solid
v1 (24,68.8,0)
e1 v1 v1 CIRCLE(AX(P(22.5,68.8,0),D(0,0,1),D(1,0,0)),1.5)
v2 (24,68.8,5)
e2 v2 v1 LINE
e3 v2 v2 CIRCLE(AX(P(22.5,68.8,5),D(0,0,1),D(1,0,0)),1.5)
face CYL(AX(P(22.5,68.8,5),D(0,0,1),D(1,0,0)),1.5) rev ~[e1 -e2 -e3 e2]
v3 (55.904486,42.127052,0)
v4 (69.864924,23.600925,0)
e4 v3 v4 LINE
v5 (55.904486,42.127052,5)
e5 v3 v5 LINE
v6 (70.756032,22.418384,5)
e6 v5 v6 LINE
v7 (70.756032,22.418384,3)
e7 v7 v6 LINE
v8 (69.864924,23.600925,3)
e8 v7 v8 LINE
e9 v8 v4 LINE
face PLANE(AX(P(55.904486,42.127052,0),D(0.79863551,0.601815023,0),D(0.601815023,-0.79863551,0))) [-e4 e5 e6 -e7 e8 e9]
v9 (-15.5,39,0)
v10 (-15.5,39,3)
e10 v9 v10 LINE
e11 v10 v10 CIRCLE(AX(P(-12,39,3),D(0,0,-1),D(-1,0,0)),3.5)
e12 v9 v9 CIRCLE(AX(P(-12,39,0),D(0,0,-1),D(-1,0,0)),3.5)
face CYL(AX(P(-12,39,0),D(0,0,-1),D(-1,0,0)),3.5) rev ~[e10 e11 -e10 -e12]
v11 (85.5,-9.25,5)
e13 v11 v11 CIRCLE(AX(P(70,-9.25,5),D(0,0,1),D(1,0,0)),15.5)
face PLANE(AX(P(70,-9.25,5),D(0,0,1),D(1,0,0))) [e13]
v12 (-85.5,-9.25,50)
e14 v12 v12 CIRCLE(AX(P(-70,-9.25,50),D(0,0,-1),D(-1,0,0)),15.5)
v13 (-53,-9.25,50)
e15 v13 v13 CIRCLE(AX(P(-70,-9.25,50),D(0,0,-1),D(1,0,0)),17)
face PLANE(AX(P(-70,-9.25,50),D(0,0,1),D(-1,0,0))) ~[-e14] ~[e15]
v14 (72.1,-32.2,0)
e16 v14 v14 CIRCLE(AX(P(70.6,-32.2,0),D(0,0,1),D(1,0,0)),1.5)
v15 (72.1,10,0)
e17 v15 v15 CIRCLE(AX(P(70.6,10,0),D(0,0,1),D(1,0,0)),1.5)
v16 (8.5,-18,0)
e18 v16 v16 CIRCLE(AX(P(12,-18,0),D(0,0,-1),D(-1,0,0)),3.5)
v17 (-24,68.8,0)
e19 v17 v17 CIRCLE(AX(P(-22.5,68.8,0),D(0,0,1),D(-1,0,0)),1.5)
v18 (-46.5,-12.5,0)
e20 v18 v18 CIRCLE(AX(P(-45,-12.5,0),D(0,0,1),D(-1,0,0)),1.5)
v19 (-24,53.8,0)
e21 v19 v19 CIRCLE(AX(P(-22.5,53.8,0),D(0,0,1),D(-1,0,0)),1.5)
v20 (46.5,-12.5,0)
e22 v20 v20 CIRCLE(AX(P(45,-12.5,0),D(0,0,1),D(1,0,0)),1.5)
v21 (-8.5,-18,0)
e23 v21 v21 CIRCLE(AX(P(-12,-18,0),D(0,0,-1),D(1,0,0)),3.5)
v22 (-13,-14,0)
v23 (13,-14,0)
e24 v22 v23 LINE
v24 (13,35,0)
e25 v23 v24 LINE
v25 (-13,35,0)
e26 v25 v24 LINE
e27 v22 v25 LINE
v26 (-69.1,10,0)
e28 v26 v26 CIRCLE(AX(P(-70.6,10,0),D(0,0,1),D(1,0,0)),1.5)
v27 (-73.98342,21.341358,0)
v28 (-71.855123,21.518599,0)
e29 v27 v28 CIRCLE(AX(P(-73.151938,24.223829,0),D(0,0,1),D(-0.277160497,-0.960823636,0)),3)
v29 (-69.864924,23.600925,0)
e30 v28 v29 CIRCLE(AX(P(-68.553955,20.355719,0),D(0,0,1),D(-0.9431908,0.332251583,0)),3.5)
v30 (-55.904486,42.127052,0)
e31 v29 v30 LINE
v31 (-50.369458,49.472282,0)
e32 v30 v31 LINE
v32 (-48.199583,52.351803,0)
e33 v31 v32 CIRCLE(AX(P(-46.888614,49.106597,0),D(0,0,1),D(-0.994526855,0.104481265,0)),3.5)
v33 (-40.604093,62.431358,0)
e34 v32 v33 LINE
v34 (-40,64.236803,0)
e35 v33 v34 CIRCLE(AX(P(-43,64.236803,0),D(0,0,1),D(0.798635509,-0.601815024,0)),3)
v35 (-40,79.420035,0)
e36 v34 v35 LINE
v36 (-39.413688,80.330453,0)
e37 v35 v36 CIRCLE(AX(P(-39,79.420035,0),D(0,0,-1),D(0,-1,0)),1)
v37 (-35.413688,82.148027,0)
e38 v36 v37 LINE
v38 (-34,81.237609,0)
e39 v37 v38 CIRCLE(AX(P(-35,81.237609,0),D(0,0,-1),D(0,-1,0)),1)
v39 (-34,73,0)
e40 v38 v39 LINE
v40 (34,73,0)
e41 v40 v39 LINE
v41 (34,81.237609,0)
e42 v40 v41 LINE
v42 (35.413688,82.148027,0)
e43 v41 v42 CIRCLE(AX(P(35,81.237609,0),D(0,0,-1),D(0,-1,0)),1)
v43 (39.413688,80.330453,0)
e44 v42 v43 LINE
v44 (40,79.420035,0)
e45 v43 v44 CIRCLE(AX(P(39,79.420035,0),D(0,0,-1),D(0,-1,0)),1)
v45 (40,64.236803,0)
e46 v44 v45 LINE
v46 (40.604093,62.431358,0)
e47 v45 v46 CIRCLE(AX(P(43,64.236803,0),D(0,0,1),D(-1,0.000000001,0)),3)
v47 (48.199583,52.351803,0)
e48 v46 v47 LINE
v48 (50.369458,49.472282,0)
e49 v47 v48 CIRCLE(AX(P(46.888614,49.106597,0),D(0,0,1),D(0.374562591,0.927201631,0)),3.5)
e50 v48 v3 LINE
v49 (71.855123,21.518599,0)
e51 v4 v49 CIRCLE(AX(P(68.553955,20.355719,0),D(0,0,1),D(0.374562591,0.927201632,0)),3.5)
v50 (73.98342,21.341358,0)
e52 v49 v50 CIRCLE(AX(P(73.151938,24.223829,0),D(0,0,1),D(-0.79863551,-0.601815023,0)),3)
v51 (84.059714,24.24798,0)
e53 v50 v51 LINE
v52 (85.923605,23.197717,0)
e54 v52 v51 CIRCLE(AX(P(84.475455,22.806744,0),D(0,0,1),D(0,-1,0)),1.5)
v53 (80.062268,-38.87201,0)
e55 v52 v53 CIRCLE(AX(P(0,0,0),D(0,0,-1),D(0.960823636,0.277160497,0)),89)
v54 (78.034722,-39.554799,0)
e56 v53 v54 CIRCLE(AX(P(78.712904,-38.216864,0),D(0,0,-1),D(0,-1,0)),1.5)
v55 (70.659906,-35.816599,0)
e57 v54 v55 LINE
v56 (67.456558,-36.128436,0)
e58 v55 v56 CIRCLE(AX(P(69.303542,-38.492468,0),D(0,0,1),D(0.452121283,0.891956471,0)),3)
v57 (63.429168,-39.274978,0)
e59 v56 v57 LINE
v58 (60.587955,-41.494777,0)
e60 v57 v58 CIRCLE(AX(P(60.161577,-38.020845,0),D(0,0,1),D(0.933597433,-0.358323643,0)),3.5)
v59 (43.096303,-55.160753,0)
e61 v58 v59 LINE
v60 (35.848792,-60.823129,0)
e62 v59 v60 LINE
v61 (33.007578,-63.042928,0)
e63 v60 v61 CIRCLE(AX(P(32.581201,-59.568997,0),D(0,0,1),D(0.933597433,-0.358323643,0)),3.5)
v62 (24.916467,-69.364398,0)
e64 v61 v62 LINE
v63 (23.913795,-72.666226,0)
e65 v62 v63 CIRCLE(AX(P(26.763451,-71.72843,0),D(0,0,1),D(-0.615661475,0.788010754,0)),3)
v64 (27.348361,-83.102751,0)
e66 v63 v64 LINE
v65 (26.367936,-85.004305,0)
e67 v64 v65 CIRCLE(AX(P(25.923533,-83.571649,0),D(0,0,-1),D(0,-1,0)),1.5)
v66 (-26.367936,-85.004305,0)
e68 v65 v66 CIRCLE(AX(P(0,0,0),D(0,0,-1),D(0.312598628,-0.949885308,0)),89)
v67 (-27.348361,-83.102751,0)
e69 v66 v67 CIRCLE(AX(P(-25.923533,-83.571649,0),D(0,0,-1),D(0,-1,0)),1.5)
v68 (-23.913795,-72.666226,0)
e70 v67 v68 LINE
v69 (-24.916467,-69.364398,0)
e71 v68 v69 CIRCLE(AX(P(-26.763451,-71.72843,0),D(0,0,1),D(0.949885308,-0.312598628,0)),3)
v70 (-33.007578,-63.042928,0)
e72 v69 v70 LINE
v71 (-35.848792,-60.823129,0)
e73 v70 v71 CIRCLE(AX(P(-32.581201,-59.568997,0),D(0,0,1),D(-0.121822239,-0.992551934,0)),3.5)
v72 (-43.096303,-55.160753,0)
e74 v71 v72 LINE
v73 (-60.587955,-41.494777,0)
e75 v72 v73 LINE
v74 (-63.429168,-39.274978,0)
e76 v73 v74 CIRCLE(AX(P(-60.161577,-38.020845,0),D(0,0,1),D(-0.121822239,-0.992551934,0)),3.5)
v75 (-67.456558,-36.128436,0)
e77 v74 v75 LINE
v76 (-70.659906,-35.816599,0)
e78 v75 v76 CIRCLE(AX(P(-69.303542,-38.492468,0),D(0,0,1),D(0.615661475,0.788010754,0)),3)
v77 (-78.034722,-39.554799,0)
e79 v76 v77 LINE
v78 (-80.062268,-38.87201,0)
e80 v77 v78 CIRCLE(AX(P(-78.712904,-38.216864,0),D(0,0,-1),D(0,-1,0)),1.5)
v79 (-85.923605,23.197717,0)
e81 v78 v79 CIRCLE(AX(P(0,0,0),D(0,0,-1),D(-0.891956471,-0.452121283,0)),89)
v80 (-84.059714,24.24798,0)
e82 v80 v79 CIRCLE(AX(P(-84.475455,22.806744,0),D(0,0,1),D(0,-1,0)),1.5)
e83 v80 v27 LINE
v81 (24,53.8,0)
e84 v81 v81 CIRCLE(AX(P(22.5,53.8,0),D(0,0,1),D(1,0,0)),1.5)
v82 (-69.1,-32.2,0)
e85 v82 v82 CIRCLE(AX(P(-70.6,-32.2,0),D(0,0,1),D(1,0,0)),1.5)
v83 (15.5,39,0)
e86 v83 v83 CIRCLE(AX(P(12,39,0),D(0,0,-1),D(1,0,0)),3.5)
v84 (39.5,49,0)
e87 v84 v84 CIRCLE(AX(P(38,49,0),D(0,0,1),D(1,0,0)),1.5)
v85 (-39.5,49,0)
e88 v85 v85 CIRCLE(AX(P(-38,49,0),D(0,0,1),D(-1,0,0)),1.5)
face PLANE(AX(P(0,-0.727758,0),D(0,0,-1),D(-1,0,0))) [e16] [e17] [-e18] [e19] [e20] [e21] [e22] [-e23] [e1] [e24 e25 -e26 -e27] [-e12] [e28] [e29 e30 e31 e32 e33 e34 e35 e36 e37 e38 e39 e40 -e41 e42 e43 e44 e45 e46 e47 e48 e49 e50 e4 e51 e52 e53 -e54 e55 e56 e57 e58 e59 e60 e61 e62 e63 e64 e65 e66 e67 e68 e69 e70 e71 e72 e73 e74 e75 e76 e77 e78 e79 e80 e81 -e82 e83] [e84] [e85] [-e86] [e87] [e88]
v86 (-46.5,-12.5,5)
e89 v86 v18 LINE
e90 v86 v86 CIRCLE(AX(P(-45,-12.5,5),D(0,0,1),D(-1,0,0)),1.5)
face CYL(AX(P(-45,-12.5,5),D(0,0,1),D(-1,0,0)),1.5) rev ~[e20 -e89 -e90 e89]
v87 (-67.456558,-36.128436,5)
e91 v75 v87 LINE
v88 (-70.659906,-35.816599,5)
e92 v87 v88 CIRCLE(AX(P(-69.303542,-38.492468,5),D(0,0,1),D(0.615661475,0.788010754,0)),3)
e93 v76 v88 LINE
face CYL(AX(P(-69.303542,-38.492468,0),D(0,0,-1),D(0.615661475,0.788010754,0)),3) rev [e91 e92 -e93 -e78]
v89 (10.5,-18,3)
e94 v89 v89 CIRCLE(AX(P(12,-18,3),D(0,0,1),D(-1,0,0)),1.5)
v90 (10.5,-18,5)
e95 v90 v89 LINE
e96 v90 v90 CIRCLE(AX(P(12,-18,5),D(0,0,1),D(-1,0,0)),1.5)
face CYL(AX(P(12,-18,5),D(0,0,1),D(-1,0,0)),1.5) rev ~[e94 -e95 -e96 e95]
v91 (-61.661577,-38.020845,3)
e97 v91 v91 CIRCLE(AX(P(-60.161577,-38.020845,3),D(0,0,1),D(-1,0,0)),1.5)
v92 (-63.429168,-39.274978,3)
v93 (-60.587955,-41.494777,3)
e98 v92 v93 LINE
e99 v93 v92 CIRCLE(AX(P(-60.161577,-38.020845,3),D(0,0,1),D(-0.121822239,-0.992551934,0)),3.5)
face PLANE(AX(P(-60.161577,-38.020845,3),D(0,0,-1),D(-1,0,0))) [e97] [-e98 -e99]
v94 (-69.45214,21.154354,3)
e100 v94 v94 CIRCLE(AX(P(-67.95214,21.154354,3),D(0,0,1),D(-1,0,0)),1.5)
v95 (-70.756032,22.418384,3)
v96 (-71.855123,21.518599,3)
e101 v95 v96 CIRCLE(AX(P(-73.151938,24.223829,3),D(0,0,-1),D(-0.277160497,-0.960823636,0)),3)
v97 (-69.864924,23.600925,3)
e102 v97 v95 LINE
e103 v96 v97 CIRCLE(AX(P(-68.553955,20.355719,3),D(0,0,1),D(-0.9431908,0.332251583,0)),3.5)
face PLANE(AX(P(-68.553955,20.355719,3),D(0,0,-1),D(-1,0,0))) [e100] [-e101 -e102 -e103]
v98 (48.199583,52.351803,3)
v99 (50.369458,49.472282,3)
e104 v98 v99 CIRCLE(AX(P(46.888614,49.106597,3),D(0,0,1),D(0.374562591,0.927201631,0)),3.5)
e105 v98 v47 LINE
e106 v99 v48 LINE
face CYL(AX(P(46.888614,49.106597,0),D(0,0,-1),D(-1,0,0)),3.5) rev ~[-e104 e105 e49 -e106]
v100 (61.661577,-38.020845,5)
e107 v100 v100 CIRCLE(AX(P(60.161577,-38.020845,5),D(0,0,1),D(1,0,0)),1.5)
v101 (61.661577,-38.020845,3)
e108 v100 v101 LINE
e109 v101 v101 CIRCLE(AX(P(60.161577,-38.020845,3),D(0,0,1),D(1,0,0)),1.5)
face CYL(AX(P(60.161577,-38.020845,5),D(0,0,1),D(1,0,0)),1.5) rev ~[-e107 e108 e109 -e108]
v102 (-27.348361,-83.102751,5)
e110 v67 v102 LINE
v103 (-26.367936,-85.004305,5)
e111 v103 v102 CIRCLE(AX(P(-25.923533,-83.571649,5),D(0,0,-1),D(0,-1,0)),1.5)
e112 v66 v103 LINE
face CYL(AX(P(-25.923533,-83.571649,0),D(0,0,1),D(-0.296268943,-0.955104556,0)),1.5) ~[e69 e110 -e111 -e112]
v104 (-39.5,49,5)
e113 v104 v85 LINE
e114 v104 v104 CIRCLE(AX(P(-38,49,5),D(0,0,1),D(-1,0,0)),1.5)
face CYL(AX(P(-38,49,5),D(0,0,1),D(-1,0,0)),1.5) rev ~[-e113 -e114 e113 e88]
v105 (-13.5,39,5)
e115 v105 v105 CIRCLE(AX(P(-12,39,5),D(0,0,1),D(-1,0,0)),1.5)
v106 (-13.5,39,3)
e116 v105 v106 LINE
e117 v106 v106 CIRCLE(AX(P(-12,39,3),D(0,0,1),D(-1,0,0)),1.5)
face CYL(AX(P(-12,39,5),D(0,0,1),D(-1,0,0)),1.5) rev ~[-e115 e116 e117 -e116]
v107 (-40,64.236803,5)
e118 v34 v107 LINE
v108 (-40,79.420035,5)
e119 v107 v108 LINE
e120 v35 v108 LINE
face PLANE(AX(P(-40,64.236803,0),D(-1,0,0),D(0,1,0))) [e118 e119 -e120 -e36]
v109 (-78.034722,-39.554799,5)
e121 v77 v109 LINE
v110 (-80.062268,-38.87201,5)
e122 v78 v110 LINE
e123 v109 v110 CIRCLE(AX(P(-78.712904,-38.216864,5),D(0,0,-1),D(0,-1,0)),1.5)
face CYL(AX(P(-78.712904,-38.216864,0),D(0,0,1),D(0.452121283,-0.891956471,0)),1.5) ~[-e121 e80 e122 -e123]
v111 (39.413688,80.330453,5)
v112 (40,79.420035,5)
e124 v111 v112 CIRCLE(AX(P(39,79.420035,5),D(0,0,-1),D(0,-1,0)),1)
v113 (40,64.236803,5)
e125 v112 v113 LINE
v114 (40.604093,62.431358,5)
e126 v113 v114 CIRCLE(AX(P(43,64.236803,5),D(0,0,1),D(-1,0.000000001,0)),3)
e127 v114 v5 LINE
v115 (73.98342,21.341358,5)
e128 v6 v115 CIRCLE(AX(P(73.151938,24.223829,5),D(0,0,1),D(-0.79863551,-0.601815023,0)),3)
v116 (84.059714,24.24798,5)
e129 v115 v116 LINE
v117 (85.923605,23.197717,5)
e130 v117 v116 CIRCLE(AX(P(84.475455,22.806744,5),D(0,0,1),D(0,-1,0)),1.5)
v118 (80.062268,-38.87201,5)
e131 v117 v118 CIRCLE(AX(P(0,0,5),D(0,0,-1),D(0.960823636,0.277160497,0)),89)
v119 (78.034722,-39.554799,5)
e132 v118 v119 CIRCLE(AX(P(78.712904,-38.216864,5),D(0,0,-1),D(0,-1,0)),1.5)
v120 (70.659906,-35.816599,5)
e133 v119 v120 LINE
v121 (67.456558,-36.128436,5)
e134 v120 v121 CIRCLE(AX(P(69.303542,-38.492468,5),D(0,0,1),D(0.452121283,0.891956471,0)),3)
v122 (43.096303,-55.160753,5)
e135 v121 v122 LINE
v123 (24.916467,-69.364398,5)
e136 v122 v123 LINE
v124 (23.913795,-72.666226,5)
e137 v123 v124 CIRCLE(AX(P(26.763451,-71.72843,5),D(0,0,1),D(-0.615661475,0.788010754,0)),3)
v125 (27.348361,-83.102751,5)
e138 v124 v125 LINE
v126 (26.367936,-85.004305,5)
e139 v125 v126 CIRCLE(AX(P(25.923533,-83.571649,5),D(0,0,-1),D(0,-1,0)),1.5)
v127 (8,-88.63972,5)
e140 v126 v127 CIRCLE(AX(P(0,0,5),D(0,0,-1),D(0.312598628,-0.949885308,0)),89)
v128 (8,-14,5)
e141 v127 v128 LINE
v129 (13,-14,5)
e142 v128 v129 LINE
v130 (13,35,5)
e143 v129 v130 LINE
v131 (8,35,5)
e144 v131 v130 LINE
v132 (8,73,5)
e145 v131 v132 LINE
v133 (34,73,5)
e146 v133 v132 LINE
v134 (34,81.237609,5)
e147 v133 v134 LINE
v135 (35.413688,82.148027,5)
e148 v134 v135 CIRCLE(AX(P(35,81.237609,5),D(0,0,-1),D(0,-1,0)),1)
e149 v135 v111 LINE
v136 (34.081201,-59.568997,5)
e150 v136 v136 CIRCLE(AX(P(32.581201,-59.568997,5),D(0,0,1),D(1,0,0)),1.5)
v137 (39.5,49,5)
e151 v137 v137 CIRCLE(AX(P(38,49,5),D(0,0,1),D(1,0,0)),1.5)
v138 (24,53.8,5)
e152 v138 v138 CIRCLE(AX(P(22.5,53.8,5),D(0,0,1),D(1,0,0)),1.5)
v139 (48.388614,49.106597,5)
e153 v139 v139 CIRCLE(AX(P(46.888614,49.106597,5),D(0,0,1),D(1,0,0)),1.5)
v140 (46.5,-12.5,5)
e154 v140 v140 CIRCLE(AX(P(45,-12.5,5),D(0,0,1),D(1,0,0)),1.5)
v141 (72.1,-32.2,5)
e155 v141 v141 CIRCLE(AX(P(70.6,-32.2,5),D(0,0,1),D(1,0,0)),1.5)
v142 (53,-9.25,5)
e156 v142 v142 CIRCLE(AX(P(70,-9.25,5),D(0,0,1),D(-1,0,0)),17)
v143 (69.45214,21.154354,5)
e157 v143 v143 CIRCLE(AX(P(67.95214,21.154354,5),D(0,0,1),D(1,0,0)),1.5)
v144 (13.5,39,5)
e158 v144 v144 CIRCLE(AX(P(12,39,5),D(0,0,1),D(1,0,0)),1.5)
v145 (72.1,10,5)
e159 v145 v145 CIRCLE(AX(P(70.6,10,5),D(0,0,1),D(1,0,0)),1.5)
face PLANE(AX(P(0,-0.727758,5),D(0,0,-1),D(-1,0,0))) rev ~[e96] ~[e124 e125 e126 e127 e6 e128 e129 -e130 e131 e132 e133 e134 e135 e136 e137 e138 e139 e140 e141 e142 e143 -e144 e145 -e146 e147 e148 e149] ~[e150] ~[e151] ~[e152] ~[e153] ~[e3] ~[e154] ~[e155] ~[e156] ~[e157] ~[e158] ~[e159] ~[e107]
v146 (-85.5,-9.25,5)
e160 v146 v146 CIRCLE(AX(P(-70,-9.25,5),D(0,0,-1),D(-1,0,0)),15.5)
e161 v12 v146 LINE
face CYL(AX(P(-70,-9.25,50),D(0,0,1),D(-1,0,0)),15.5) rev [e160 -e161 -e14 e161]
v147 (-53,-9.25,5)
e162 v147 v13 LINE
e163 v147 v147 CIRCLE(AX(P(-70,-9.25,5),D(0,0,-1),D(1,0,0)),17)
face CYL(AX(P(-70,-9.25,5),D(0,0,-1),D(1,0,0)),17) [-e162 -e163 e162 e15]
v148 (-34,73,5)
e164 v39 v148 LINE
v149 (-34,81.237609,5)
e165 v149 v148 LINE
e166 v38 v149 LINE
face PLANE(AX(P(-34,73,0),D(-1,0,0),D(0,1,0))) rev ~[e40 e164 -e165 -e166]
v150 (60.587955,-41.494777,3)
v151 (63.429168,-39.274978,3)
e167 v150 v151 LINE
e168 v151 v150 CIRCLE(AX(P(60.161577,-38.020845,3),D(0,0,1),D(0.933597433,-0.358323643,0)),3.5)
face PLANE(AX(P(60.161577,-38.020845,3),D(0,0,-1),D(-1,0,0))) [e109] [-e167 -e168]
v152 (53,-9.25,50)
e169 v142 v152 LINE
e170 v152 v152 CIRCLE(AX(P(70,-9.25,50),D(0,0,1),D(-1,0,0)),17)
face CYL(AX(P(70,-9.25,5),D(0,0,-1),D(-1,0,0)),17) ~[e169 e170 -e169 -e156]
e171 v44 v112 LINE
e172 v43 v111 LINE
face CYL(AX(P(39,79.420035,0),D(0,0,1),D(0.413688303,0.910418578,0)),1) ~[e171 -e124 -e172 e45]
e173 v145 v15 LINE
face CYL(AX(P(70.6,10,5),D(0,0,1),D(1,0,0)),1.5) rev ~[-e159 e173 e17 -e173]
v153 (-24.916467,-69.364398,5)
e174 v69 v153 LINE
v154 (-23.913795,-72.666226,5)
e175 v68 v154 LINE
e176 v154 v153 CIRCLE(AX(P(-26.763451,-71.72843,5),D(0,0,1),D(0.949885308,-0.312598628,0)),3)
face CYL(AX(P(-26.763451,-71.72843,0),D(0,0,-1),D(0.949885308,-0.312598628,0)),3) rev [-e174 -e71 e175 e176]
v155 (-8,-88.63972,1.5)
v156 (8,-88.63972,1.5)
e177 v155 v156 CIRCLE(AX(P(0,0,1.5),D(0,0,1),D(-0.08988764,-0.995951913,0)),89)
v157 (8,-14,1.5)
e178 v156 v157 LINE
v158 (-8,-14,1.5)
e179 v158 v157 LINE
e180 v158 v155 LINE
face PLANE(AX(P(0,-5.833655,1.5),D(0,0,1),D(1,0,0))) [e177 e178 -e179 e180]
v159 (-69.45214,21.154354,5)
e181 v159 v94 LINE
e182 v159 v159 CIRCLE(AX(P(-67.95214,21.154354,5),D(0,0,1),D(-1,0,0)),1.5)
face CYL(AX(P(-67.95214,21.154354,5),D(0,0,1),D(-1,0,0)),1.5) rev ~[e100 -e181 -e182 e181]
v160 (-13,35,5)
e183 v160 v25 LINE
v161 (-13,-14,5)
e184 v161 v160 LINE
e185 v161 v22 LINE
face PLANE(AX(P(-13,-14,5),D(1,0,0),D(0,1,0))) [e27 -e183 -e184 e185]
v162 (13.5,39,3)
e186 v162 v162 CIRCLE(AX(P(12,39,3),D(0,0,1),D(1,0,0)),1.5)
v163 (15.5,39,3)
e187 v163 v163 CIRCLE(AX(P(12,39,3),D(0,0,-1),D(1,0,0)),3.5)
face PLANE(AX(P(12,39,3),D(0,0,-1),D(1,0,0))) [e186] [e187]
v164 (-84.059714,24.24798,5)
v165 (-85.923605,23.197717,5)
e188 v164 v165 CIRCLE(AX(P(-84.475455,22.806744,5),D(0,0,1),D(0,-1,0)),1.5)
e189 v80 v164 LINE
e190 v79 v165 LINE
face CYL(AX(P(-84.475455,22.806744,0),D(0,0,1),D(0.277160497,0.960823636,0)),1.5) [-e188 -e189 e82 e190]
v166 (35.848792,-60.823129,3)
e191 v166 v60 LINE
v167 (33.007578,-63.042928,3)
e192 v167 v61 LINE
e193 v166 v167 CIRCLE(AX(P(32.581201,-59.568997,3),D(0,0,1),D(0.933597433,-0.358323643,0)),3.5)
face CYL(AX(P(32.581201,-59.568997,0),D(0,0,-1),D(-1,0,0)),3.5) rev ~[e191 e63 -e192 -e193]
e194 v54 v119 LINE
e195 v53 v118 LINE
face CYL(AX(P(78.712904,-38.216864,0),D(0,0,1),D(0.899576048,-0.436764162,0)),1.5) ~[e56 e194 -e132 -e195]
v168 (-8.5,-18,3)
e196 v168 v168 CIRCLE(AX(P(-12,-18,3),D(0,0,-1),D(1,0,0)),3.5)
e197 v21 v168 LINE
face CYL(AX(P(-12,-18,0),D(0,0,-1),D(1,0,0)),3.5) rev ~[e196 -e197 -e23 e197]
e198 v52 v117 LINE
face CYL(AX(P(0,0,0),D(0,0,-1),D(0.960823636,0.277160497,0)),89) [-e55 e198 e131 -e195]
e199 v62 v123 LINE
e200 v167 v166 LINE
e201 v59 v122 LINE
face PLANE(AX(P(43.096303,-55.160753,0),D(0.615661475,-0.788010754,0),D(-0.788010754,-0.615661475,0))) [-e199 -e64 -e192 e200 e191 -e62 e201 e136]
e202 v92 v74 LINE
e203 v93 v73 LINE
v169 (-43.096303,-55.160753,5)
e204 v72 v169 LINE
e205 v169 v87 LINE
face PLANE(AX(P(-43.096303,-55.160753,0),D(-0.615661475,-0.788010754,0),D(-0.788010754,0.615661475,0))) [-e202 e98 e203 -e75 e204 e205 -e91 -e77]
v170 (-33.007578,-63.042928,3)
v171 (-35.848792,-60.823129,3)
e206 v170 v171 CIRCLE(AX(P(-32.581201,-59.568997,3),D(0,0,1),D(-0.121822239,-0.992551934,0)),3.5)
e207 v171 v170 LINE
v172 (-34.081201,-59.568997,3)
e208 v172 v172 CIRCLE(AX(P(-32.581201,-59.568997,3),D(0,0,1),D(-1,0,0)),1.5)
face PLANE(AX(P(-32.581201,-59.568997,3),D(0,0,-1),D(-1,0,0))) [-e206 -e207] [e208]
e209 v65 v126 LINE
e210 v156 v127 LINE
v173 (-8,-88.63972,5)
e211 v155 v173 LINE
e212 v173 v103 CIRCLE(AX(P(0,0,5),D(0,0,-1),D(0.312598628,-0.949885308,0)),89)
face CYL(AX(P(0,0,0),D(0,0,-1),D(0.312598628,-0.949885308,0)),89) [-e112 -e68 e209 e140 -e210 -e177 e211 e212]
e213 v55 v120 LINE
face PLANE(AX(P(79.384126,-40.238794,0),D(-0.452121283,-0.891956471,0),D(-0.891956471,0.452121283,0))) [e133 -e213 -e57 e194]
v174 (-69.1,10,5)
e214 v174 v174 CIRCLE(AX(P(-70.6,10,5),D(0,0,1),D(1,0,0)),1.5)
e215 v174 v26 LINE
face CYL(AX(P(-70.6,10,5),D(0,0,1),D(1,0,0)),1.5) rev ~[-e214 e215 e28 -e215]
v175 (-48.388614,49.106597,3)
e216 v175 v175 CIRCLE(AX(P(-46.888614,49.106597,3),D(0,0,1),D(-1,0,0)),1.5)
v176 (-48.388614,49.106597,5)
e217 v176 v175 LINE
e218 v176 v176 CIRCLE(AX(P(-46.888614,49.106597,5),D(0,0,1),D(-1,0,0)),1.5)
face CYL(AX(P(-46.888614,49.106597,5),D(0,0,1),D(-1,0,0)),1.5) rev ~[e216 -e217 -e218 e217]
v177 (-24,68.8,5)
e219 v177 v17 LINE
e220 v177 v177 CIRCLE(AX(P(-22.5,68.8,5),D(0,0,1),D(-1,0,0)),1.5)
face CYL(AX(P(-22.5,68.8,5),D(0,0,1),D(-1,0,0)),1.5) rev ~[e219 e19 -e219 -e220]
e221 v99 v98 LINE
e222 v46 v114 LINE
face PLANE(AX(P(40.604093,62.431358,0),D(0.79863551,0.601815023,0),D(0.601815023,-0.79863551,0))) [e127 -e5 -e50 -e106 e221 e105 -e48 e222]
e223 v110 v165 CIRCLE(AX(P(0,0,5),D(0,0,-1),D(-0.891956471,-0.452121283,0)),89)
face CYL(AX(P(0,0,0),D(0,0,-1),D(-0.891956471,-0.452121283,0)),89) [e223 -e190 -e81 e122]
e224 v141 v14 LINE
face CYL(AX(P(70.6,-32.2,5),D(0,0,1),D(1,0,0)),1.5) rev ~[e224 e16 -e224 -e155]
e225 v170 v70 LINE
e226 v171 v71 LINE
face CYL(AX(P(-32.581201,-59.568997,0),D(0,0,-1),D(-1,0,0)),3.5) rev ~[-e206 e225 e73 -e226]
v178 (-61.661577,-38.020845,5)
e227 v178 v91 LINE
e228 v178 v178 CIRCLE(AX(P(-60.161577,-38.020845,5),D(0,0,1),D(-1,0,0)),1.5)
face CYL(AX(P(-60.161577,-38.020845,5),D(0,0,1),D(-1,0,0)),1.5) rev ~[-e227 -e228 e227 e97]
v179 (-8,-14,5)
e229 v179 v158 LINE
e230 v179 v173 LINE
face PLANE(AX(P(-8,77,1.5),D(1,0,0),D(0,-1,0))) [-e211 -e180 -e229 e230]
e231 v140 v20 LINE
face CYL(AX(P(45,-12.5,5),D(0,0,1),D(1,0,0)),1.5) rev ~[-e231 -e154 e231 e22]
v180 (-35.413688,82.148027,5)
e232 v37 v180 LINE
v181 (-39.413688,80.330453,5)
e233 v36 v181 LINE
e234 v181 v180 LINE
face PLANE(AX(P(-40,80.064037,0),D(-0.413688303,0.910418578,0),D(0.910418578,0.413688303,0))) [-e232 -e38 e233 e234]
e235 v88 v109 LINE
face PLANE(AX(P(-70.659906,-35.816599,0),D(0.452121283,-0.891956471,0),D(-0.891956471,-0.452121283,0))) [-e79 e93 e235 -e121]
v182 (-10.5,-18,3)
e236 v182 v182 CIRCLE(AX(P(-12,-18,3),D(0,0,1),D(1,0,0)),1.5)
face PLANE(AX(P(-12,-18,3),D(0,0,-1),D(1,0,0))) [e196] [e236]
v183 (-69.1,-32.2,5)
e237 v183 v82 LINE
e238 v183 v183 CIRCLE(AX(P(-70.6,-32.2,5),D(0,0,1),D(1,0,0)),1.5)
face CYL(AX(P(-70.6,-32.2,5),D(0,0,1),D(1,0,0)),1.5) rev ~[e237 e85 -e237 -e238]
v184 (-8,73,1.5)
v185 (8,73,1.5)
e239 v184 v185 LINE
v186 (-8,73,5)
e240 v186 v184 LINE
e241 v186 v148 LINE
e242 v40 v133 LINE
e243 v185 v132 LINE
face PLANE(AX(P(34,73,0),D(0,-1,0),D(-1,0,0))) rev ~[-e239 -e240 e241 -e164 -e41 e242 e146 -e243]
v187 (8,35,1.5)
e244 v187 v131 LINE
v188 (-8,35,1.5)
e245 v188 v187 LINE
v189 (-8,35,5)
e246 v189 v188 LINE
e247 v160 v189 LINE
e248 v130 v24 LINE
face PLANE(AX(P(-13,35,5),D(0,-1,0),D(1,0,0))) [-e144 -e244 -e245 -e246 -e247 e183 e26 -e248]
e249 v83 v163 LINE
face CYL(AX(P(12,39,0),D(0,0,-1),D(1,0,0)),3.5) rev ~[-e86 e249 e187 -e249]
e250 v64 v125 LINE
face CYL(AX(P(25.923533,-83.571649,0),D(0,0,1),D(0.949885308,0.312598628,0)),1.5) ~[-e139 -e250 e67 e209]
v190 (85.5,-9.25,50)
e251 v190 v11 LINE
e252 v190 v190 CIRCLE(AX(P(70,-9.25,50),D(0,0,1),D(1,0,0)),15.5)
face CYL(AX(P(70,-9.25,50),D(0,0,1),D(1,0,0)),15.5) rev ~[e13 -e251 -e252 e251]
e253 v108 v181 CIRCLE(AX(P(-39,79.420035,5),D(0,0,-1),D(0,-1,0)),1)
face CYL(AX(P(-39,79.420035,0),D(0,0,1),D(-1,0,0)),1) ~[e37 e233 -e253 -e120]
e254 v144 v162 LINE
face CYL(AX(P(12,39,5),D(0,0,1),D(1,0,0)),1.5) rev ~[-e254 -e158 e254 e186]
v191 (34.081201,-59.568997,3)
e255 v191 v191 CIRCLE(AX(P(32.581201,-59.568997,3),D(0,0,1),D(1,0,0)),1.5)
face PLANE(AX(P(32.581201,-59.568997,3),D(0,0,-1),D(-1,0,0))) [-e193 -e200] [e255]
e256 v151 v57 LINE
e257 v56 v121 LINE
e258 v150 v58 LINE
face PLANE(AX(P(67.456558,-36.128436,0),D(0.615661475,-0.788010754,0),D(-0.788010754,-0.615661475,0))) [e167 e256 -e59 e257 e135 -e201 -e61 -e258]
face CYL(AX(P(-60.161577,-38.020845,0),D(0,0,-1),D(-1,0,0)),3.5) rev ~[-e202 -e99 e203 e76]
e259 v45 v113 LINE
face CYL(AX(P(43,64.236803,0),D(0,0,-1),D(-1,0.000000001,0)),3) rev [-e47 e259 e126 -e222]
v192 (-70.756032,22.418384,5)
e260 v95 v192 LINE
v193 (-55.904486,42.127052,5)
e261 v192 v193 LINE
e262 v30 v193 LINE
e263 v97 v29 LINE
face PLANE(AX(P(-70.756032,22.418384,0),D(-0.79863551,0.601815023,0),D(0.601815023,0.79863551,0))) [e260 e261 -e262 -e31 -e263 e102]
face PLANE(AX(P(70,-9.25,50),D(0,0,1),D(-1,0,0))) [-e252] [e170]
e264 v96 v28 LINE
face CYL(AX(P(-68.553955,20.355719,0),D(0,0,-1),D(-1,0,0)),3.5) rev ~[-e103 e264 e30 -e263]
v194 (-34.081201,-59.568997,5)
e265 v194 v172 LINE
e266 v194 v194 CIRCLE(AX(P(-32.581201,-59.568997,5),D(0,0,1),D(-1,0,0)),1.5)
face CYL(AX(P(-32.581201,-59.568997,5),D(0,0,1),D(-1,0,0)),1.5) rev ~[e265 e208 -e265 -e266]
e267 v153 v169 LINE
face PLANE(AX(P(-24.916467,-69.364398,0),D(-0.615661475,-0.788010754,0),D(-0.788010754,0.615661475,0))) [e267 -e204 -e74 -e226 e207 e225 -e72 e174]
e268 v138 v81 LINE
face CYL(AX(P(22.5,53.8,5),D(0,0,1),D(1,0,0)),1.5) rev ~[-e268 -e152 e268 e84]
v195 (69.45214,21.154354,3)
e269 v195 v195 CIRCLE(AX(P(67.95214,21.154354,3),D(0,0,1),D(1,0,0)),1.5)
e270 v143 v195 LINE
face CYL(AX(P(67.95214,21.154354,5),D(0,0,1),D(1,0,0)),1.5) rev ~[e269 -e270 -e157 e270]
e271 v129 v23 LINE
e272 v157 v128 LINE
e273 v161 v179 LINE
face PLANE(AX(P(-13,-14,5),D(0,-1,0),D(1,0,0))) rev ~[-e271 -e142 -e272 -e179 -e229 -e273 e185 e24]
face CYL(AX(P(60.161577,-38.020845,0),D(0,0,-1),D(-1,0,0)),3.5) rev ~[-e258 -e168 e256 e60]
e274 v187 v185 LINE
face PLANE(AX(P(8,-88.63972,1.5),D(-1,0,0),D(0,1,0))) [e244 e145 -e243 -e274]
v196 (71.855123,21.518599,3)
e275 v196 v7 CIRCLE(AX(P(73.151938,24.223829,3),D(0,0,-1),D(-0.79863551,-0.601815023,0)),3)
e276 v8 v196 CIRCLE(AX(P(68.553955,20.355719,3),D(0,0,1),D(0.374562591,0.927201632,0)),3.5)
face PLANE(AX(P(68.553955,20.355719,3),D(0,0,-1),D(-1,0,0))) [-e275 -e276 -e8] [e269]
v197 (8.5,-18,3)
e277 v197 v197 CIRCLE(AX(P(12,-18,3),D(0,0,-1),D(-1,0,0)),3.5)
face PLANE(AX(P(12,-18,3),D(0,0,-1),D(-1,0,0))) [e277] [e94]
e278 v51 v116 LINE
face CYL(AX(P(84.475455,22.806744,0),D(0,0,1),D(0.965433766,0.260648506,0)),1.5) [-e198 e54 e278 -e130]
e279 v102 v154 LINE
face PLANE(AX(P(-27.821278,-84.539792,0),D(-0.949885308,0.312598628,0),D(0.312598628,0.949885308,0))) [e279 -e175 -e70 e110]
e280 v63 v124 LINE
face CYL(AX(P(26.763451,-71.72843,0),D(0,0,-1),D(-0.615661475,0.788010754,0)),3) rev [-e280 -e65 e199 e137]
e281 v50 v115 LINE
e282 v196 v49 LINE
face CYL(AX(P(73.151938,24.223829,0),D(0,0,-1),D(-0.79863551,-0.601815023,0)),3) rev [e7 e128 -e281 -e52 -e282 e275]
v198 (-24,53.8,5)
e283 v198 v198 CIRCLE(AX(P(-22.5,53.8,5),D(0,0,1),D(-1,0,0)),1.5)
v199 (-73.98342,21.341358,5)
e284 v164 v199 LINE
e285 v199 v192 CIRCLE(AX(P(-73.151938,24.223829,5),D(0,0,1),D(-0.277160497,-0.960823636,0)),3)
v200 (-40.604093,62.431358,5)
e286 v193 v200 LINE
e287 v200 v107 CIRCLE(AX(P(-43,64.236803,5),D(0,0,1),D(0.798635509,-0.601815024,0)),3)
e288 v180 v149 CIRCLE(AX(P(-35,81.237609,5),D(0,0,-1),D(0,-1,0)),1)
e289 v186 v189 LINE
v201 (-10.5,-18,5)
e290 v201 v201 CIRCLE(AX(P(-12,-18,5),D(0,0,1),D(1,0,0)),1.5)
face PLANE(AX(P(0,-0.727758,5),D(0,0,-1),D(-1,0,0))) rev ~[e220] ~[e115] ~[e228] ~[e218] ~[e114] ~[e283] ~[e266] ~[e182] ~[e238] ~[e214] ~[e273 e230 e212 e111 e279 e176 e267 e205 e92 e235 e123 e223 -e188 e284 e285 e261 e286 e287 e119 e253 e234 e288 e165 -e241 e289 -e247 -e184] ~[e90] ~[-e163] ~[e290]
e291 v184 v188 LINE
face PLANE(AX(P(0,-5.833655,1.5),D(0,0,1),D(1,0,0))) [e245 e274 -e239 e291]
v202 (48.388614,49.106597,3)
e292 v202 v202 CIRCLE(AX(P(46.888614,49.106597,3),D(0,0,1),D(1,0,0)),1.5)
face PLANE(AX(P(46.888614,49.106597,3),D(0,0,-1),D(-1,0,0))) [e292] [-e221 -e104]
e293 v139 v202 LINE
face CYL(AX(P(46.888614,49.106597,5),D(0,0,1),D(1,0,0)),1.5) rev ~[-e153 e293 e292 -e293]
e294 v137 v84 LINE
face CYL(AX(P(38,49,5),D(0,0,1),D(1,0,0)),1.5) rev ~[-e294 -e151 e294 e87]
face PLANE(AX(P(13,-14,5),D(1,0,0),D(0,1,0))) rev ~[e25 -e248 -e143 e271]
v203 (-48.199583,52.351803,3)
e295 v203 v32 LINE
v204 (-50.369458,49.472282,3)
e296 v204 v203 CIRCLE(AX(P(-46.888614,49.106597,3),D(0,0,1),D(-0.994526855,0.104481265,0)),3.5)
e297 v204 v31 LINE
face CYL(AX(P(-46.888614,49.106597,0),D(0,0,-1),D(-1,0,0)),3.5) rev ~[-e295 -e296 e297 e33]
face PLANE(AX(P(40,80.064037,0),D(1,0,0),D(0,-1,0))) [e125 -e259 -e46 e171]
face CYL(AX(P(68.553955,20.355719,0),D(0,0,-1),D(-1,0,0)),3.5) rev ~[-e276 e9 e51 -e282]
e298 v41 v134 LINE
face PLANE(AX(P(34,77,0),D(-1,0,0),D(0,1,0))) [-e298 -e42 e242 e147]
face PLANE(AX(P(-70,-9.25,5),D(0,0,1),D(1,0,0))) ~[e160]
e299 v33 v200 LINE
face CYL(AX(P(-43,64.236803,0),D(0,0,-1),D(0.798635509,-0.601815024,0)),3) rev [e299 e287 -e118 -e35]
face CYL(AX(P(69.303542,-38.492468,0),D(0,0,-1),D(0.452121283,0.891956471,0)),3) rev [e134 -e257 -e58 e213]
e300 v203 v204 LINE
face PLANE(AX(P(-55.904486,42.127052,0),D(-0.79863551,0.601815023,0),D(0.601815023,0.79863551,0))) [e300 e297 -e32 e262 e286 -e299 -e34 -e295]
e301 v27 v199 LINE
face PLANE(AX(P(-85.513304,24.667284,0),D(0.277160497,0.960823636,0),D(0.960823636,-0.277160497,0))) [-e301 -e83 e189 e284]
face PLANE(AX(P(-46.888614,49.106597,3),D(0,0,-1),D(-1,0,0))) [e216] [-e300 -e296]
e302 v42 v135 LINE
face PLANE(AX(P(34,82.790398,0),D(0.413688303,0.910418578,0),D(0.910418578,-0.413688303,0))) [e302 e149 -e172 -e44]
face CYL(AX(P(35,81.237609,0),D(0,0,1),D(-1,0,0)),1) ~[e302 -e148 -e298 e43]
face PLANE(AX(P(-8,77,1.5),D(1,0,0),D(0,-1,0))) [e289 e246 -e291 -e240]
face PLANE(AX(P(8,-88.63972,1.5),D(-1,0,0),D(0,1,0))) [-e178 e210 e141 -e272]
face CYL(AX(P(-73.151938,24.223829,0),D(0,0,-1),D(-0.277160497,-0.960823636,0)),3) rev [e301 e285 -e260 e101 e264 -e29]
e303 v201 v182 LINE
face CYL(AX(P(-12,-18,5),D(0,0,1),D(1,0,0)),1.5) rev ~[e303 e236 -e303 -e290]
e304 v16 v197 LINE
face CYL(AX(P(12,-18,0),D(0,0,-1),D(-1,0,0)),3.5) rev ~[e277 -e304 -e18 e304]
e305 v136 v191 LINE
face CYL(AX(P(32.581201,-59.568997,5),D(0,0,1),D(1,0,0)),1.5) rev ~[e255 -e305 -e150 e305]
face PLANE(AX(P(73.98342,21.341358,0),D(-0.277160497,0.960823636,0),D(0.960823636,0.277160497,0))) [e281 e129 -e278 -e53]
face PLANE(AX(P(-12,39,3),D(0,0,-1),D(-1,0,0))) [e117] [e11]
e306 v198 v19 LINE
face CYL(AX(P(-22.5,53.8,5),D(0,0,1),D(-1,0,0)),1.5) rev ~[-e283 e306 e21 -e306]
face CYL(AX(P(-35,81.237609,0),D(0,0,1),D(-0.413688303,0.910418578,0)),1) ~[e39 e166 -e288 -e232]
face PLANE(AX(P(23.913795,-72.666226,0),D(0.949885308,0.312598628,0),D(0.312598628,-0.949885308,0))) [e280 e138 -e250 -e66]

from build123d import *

# Parameters (mm, degrees)
EXTRUDE_2007_DEPTH      = 5
FILLET_3_R              = 1.5
FILLET_4_R              = 1.5
FILLET_5_R              = 1.5
FILLET_6_R              = 1.5
FILLET_8_R              = 1.5
FILLET_9_R              = 1.5
FILLET_10_R             = 1
SKETCH_3_R              = 17
EXTRUDE_3379_DEPTH      = 45
SKETCH_4_R              = 15.5
CUT_EXTRUDE_3486_DEPTH  = 45
SKETCH_5_R              = 1.5
CUT_EXTRUDE_4485_DEPTH  = 2
SKETCH_12_R             = 3.5
CUT_EXTRUDE_5429_DEPTH  = 3
CUT_EXTRUDE_START       = -3.5
CUT_EXTRUDE_6212_DEPTH  = 3.5
SKETCH_8_W              = 26
SKETCH_8_H              = 49
CUT_EXTRUDE_6714_DEPTH  = 5
SKETCH_9_R              = 1.5
CUT_EXTRUDE_7323_DEPTH  = 2
SKETCH_10_R             = 3.5
CUT_EXTRUDE_8111_DEPTH  = 3
SKETCH_11_R             = 1.5
CUT_EXTRUDE_8692_DEPTH  = 5
SKETCH_14_W             = 68
SKETCH_14_H             = 4
CUT_EXTRUDE_1_DEPTH     = 10
SKETCH_15_R             = 1.5
CUT_EXTRUDE_9738_DEPTH  = 134.667497919
SKETCH_16_R             = 1.5
CUT_EXTRUDE_10559_DEPTH = 10


with BuildPart() as part:
    # 草图1 → Extrude 2007 (new body)
    with BuildSketch(Plane.XY):
        with BuildLine():
            Line((40.60409347, 62.431357903), (55.904485703, 42.127051621))
            Line((55.904485703, 42.127051621), (70.756031924, 22.418384115))
            ThreePointArc((70.756031924, 22.418384115), (72.202279258, 21.378104776), (73.983419946, 21.341358278))
            Line((73.983419946, 21.341358278), (85.513303574, 24.667284243))
            ThreePointArc((85.513303574, 24.667284243), (88.605814226, -8.36717906), (79.384125876, -40.238794203))
            Line((79.384125876, -40.238794203), (70.659905832, -35.816599072))
            ThreePointArc((70.659905832, -35.816599072), (69.012874234, -35.506582977), (67.456557556, -36.128436223))
            Line((67.456557556, -36.128436223), (43.096303273, -55.160752752))
            Line((43.096303273, -55.160752752), (24.916466517, -69.364397902))
            ThreePointArc((24.916466517, -69.364397902), (23.892889166, -70.856722021), (23.91379502, -72.666226046))
            Line((23.91379502, -72.666226046), (27.821277866, -84.539792393))
            ThreePointArc((27.821277866, -84.539792393), (0, -89), (-27.821277866, -84.539792393))
            Line((-27.821277866, -84.539792393), (-23.91379502, -72.666226046))
            ThreePointArc((-23.91379502, -72.666226046), (-23.892889166, -70.856722021), (-24.916466517, -69.364397902))
            Line((-24.916466517, -69.364397902), (-43.096303273, -55.160752752))
            Line((-43.096303273, -55.160752752), (-67.456557556, -36.128436223))
            ThreePointArc((-67.456557556, -36.128436223), (-69.012874234, -35.506582977), (-70.659905832, -35.816599072))
            Line((-70.659905832, -35.816599072), (-79.384125876, -40.238794203))
            ThreePointArc((-79.384125876, -40.238794203), (-88.605814226, -8.36717906), (-85.513303574, 24.667284243))
            Line((-85.513303574, 24.667284243), (-73.983419946, 21.341358278))
            ThreePointArc((-73.983419946, 21.341358278), (-72.202279258, 21.378104776), (-70.756031924, 22.418384115))
            Line((-70.756031924, 22.418384115), (-55.904485703, 42.127051621))
            Line((-55.904485703, 42.127051621), (-40.60409347, 62.431357903))
            ThreePointArc((-40.60409347, 62.431357903), (-40.155029034, 63.284889003), (-40, 64.236802972))
            Line((-40, 64.236802972), (-40, 74))
            Line((-40, 74), (-40, 80.06403687))
            Line((-40, 80.06403687), (-34, 82.790397994))
            Line((-34, 82.790397994), (-34, 77))
            Line((-34, 77), (34, 77))
            Line((34, 77), (34, 82.790397994))
            Line((34, 82.790397994), (40, 80.06403687))
            Line((40, 80.06403687), (40, 74))
            Line((40, 74), (40, 64.236802972))
            ThreePointArc((40, 64.236802972), (40.155029034, 63.284889003), (40.60409347, 62.431357903))
        make_face()
    extrude(amount=EXTRUDE_2007_DEPTH)

    # 圆角3
    fillet_3_edges = [part.edges().sort_by_distance(p)[0] for p in [
        (79.384125876, -40.238794203, 2.5),
    ]]
    fillet(fillet_3_edges, radius=FILLET_3_R)

    # 圆角4
    fillet_4_edges = [part.edges().sort_by_distance(p)[0] for p in [
        (27.821277866, -84.539792393, 2.5),
    ]]
    fillet(fillet_4_edges, radius=FILLET_4_R)

    # 圆角5
    fillet_5_edges = [part.edges().sort_by_distance(p)[0] for p in [
        (-27.821277866, -84.539792393, 2.5),
    ]]
    fillet(fillet_5_edges, radius=FILLET_5_R)

    # 圆角6
    fillet_6_edges = [part.edges().sort_by_distance(p)[0] for p in [
        (-79.384125876, -40.238794203, 2.5),
    ]]
    fillet(fillet_6_edges, radius=FILLET_6_R)

    # 圆角8
    fillet_8_edges = [part.edges().sort_by_distance(p)[0] for p in [
        (85.513303574, 24.667284243, 2.5),
    ]]
    fillet(fillet_8_edges, radius=FILLET_8_R)

    # 圆角9
    fillet_9_edges = [part.edges().sort_by_distance(p)[0] for p in [
        (-85.513303574, 24.667284243, 2.5),
    ]]
    fillet(fillet_9_edges, radius=FILLET_9_R)

    # 圆角10
    fillet_10_edges = [part.edges().sort_by_distance(p)[0] for p in [
        (-40, 80.06403687, 2.5),
        (-34, 82.790397994, 2.5),
        (34, 82.790397994, 2.5),
        (40, 80.06403687, 2.5),
    ]]
    fillet(fillet_10_edges, radius=FILLET_10_R)

    # 草图3 → Extrude 3379 (add)
    with BuildSketch(Plane.XY.offset(5)):
        with Locations(Location((70, -9.25, 0), (0, 0, 180))):
            Circle(SKETCH_3_R)
    extrude_3379 = extrude(amount=EXTRUDE_3379_DEPTH)

    # 草图4 → Cut-Extrude 3486 (cut)
    with BuildSketch(Plane.XY.offset(50)):
        with Locations((70, -9.25)):
            Circle(SKETCH_4_R)
    cut_extrude_3486 = extrude(amount=-CUT_EXTRUDE_3486_DEPTH, mode=Mode.SUBTRACT)

    # 镜向1: Extrude 3379 across plane
    add(extrude_3379.mirror(Plane(origin=(0, 0, 0), x_dir=(0, 0, 1), z_dir=(1, 0, 0))))

    # 镜向2: Cut-Extrude 3486 across plane
    add(cut_extrude_3486.mirror(Plane(origin=(0, 0, 0), x_dir=(0, 0, 1), z_dir=(1, 0, 0))), mode=Mode.SUBTRACT)

    # 草图5 → Cut-Extrude 4485 (cut)
    with BuildSketch(Plane.XY.offset(5)):
        with Locations((46.888613918, 49.106597162)):
            Circle(SKETCH_5_R)
        with Locations((67.952139729, 21.15435431)):
            Circle(SKETCH_5_R)
        with Locations(Location((-67.952139729, 21.15435431, 0), (0, 0, 180))):
            Circle(SKETCH_5_R)
        with Locations(Location((-46.888613918, 49.106597162, 0), (0, 0, 180))):
            Circle(SKETCH_5_R)
        with Locations((60.161576933, -38.020845084)):
            Circle(SKETCH_5_R)
        with Locations((32.581200557, -59.56899672)):
            Circle(SKETCH_5_R)
        with Locations(Location((-60.161576933, -38.020845084, 0), (0, 0, 180))):
            Circle(SKETCH_5_R)
        with Locations(Location((-32.581200557, -59.56899672, 0), (0, 0, 180))):
            Circle(SKETCH_5_R)
    extrude(amount=-CUT_EXTRUDE_4485_DEPTH, mode=Mode.SUBTRACT)

    # 草图12 → Cut-Extrude 5429 (cut)
    with BuildSketch(Plane(origin=(0, 0, 0), x_dir=(-1, 0, 0), z_dir=(0, 0, -1))):
        with Locations((46.888613918, 49.106597162)):
            Circle(SKETCH_12_R)
        with Locations((68.553954752, 20.3557188)):
            Circle(SKETCH_12_R)
        with Locations((-68.553954752, 20.3557188)):
            Circle(SKETCH_12_R)
        with Locations((-46.888613918, 49.106597162)):
            Circle(SKETCH_12_R)
        with Locations((32.581200557, -59.56899672)):
            Circle(SKETCH_12_R)
        with Locations((60.161576933, -38.020845084)):
            Circle(SKETCH_12_R)
        with Locations((13.527038551, -115.928745256)):
            Circle(SKETCH_12_R)
        with Locations((-60.161576933, -38.020845084)):
            Circle(SKETCH_12_R)
        with Locations((-32.581200557, -59.56899672)):
            Circle(SKETCH_12_R)
    extrude(amount=-CUT_EXTRUDE_5429_DEPTH, mode=Mode.SUBTRACT)

    # 草图7 → Cut-Extrude 6212 (cut)
    with BuildSketch(Plane.XY.offset(5).offset(CUT_EXTRUDE_START)):
        with BuildLine():
            Line((-8, 77), (-8, -88.639720216))
            ThreePointArc((-8, -88.639720216), (0, -89), (8, -88.639720216))
            Line((8, -88.639720216), (8, 77))
            Line((8, 77), (-8, 77))
        make_face()
    extrude(amount=CUT_EXTRUDE_6212_DEPTH, mode=Mode.SUBTRACT)

    # 草图8 → Cut-Extrude 6714 (cut)
    with BuildSketch(Plane.XY.offset(5)):
        with Locations((0, 10.5)):
            Rectangle(SKETCH_8_W, SKETCH_8_H)
    extrude(amount=-CUT_EXTRUDE_6714_DEPTH, mode=Mode.SUBTRACT)

    # 草图9 → Cut-Extrude 7323 (cut)
    with BuildSketch(Plane.XY.offset(5)):
        with Locations((12, 39)):
            Circle(SKETCH_9_R)
        with Locations(Location((-12, 39, 0), (0, 0, 180))):
            Circle(SKETCH_9_R)
        with Locations((-12, -18)):
            Circle(SKETCH_9_R)
        with Locations(Location((12, -18, 0), (0, 0, 180))):
            Circle(SKETCH_9_R)
    extrude(amount=-CUT_EXTRUDE_7323_DEPTH, mode=Mode.SUBTRACT)

    # 草图10 → Cut-Extrude 8111 (cut)
    with BuildSketch(Plane(origin=(0, 0, 0), x_dir=(-1, 0, 0), z_dir=(0, 0, -1))):
        with Locations((12, 39)):
            Circle(SKETCH_10_R)
        with Locations(Location((-12, 39, 0), (0, 0, 180))):
            Circle(SKETCH_10_R)
        with Locations(Location((12, -18, 0), (0, 0, 180))):
            Circle(SKETCH_10_R)
        with Locations((-12, -18)):
            Circle(SKETCH_10_R)
    extrude(amount=-CUT_EXTRUDE_8111_DEPTH, mode=Mode.SUBTRACT)

    # 草图11 → Cut-Extrude 8692 (cut)
    with BuildSketch(Plane.XY.offset(5)):
        with Locations((22.5, 68.8)):
            Circle(SKETCH_11_R)
        with Locations((22.5, 53.8)):
            Circle(SKETCH_11_R)
        with Locations(Location((-22.5, 53.8, 0), (0, 0, 180))):
            Circle(SKETCH_11_R)
        with Locations(Location((-22.5, 68.8, 0), (0, 0, 180))):
            Circle(SKETCH_11_R)
    extrude(amount=-CUT_EXTRUDE_8692_DEPTH, mode=Mode.SUBTRACT)

    # 草图14 → 切除-拉伸1 (cut)
    with BuildSketch(Plane(origin=(0, 0, 0), x_dir=(-1, 0, 0), z_dir=(0, 0, -1))):
        with Locations((0, 75)):
            Rectangle(SKETCH_14_W, SKETCH_14_H)
    extrude(amount=-CUT_EXTRUDE_1_DEPTH, mode=Mode.SUBTRACT)

    # 草图15 → Cut-Extrude 9738 (cut, through all)
    with BuildSketch(Plane.XY.offset(5)):
        with Locations(Location((-45, -12.5, 0), (0, 0, 180))):
            Circle(SKETCH_15_R)
        with Locations(Location((-38, 49, 0), (0, 0, 180))):
            Circle(SKETCH_15_R)
        with Locations((38, 49)):
            Circle(SKETCH_15_R)
        with Locations((45, -12.5)):
            Circle(SKETCH_15_R)
    extrude(amount=-CUT_EXTRUDE_9738_DEPTH, mode=Mode.SUBTRACT)

    # 草图16 → Cut-Extrude 10559 (cut)
    with BuildSketch(Plane.XY.offset(5)):
        with Locations((-70.6, -32.2)):
            Circle(SKETCH_16_R)
        with Locations((-70.6, 10)):
            Circle(SKETCH_16_R)
        with Locations((70.6, 10)):
            Circle(SKETCH_16_R)
        with Locations((70.6, -32.2)):
            Circle(SKETCH_16_R)
    extrude(amount=-CUT_EXTRUDE_10559_DEPTH, mode=Mode.SUBTRACT)


solid = part.part
